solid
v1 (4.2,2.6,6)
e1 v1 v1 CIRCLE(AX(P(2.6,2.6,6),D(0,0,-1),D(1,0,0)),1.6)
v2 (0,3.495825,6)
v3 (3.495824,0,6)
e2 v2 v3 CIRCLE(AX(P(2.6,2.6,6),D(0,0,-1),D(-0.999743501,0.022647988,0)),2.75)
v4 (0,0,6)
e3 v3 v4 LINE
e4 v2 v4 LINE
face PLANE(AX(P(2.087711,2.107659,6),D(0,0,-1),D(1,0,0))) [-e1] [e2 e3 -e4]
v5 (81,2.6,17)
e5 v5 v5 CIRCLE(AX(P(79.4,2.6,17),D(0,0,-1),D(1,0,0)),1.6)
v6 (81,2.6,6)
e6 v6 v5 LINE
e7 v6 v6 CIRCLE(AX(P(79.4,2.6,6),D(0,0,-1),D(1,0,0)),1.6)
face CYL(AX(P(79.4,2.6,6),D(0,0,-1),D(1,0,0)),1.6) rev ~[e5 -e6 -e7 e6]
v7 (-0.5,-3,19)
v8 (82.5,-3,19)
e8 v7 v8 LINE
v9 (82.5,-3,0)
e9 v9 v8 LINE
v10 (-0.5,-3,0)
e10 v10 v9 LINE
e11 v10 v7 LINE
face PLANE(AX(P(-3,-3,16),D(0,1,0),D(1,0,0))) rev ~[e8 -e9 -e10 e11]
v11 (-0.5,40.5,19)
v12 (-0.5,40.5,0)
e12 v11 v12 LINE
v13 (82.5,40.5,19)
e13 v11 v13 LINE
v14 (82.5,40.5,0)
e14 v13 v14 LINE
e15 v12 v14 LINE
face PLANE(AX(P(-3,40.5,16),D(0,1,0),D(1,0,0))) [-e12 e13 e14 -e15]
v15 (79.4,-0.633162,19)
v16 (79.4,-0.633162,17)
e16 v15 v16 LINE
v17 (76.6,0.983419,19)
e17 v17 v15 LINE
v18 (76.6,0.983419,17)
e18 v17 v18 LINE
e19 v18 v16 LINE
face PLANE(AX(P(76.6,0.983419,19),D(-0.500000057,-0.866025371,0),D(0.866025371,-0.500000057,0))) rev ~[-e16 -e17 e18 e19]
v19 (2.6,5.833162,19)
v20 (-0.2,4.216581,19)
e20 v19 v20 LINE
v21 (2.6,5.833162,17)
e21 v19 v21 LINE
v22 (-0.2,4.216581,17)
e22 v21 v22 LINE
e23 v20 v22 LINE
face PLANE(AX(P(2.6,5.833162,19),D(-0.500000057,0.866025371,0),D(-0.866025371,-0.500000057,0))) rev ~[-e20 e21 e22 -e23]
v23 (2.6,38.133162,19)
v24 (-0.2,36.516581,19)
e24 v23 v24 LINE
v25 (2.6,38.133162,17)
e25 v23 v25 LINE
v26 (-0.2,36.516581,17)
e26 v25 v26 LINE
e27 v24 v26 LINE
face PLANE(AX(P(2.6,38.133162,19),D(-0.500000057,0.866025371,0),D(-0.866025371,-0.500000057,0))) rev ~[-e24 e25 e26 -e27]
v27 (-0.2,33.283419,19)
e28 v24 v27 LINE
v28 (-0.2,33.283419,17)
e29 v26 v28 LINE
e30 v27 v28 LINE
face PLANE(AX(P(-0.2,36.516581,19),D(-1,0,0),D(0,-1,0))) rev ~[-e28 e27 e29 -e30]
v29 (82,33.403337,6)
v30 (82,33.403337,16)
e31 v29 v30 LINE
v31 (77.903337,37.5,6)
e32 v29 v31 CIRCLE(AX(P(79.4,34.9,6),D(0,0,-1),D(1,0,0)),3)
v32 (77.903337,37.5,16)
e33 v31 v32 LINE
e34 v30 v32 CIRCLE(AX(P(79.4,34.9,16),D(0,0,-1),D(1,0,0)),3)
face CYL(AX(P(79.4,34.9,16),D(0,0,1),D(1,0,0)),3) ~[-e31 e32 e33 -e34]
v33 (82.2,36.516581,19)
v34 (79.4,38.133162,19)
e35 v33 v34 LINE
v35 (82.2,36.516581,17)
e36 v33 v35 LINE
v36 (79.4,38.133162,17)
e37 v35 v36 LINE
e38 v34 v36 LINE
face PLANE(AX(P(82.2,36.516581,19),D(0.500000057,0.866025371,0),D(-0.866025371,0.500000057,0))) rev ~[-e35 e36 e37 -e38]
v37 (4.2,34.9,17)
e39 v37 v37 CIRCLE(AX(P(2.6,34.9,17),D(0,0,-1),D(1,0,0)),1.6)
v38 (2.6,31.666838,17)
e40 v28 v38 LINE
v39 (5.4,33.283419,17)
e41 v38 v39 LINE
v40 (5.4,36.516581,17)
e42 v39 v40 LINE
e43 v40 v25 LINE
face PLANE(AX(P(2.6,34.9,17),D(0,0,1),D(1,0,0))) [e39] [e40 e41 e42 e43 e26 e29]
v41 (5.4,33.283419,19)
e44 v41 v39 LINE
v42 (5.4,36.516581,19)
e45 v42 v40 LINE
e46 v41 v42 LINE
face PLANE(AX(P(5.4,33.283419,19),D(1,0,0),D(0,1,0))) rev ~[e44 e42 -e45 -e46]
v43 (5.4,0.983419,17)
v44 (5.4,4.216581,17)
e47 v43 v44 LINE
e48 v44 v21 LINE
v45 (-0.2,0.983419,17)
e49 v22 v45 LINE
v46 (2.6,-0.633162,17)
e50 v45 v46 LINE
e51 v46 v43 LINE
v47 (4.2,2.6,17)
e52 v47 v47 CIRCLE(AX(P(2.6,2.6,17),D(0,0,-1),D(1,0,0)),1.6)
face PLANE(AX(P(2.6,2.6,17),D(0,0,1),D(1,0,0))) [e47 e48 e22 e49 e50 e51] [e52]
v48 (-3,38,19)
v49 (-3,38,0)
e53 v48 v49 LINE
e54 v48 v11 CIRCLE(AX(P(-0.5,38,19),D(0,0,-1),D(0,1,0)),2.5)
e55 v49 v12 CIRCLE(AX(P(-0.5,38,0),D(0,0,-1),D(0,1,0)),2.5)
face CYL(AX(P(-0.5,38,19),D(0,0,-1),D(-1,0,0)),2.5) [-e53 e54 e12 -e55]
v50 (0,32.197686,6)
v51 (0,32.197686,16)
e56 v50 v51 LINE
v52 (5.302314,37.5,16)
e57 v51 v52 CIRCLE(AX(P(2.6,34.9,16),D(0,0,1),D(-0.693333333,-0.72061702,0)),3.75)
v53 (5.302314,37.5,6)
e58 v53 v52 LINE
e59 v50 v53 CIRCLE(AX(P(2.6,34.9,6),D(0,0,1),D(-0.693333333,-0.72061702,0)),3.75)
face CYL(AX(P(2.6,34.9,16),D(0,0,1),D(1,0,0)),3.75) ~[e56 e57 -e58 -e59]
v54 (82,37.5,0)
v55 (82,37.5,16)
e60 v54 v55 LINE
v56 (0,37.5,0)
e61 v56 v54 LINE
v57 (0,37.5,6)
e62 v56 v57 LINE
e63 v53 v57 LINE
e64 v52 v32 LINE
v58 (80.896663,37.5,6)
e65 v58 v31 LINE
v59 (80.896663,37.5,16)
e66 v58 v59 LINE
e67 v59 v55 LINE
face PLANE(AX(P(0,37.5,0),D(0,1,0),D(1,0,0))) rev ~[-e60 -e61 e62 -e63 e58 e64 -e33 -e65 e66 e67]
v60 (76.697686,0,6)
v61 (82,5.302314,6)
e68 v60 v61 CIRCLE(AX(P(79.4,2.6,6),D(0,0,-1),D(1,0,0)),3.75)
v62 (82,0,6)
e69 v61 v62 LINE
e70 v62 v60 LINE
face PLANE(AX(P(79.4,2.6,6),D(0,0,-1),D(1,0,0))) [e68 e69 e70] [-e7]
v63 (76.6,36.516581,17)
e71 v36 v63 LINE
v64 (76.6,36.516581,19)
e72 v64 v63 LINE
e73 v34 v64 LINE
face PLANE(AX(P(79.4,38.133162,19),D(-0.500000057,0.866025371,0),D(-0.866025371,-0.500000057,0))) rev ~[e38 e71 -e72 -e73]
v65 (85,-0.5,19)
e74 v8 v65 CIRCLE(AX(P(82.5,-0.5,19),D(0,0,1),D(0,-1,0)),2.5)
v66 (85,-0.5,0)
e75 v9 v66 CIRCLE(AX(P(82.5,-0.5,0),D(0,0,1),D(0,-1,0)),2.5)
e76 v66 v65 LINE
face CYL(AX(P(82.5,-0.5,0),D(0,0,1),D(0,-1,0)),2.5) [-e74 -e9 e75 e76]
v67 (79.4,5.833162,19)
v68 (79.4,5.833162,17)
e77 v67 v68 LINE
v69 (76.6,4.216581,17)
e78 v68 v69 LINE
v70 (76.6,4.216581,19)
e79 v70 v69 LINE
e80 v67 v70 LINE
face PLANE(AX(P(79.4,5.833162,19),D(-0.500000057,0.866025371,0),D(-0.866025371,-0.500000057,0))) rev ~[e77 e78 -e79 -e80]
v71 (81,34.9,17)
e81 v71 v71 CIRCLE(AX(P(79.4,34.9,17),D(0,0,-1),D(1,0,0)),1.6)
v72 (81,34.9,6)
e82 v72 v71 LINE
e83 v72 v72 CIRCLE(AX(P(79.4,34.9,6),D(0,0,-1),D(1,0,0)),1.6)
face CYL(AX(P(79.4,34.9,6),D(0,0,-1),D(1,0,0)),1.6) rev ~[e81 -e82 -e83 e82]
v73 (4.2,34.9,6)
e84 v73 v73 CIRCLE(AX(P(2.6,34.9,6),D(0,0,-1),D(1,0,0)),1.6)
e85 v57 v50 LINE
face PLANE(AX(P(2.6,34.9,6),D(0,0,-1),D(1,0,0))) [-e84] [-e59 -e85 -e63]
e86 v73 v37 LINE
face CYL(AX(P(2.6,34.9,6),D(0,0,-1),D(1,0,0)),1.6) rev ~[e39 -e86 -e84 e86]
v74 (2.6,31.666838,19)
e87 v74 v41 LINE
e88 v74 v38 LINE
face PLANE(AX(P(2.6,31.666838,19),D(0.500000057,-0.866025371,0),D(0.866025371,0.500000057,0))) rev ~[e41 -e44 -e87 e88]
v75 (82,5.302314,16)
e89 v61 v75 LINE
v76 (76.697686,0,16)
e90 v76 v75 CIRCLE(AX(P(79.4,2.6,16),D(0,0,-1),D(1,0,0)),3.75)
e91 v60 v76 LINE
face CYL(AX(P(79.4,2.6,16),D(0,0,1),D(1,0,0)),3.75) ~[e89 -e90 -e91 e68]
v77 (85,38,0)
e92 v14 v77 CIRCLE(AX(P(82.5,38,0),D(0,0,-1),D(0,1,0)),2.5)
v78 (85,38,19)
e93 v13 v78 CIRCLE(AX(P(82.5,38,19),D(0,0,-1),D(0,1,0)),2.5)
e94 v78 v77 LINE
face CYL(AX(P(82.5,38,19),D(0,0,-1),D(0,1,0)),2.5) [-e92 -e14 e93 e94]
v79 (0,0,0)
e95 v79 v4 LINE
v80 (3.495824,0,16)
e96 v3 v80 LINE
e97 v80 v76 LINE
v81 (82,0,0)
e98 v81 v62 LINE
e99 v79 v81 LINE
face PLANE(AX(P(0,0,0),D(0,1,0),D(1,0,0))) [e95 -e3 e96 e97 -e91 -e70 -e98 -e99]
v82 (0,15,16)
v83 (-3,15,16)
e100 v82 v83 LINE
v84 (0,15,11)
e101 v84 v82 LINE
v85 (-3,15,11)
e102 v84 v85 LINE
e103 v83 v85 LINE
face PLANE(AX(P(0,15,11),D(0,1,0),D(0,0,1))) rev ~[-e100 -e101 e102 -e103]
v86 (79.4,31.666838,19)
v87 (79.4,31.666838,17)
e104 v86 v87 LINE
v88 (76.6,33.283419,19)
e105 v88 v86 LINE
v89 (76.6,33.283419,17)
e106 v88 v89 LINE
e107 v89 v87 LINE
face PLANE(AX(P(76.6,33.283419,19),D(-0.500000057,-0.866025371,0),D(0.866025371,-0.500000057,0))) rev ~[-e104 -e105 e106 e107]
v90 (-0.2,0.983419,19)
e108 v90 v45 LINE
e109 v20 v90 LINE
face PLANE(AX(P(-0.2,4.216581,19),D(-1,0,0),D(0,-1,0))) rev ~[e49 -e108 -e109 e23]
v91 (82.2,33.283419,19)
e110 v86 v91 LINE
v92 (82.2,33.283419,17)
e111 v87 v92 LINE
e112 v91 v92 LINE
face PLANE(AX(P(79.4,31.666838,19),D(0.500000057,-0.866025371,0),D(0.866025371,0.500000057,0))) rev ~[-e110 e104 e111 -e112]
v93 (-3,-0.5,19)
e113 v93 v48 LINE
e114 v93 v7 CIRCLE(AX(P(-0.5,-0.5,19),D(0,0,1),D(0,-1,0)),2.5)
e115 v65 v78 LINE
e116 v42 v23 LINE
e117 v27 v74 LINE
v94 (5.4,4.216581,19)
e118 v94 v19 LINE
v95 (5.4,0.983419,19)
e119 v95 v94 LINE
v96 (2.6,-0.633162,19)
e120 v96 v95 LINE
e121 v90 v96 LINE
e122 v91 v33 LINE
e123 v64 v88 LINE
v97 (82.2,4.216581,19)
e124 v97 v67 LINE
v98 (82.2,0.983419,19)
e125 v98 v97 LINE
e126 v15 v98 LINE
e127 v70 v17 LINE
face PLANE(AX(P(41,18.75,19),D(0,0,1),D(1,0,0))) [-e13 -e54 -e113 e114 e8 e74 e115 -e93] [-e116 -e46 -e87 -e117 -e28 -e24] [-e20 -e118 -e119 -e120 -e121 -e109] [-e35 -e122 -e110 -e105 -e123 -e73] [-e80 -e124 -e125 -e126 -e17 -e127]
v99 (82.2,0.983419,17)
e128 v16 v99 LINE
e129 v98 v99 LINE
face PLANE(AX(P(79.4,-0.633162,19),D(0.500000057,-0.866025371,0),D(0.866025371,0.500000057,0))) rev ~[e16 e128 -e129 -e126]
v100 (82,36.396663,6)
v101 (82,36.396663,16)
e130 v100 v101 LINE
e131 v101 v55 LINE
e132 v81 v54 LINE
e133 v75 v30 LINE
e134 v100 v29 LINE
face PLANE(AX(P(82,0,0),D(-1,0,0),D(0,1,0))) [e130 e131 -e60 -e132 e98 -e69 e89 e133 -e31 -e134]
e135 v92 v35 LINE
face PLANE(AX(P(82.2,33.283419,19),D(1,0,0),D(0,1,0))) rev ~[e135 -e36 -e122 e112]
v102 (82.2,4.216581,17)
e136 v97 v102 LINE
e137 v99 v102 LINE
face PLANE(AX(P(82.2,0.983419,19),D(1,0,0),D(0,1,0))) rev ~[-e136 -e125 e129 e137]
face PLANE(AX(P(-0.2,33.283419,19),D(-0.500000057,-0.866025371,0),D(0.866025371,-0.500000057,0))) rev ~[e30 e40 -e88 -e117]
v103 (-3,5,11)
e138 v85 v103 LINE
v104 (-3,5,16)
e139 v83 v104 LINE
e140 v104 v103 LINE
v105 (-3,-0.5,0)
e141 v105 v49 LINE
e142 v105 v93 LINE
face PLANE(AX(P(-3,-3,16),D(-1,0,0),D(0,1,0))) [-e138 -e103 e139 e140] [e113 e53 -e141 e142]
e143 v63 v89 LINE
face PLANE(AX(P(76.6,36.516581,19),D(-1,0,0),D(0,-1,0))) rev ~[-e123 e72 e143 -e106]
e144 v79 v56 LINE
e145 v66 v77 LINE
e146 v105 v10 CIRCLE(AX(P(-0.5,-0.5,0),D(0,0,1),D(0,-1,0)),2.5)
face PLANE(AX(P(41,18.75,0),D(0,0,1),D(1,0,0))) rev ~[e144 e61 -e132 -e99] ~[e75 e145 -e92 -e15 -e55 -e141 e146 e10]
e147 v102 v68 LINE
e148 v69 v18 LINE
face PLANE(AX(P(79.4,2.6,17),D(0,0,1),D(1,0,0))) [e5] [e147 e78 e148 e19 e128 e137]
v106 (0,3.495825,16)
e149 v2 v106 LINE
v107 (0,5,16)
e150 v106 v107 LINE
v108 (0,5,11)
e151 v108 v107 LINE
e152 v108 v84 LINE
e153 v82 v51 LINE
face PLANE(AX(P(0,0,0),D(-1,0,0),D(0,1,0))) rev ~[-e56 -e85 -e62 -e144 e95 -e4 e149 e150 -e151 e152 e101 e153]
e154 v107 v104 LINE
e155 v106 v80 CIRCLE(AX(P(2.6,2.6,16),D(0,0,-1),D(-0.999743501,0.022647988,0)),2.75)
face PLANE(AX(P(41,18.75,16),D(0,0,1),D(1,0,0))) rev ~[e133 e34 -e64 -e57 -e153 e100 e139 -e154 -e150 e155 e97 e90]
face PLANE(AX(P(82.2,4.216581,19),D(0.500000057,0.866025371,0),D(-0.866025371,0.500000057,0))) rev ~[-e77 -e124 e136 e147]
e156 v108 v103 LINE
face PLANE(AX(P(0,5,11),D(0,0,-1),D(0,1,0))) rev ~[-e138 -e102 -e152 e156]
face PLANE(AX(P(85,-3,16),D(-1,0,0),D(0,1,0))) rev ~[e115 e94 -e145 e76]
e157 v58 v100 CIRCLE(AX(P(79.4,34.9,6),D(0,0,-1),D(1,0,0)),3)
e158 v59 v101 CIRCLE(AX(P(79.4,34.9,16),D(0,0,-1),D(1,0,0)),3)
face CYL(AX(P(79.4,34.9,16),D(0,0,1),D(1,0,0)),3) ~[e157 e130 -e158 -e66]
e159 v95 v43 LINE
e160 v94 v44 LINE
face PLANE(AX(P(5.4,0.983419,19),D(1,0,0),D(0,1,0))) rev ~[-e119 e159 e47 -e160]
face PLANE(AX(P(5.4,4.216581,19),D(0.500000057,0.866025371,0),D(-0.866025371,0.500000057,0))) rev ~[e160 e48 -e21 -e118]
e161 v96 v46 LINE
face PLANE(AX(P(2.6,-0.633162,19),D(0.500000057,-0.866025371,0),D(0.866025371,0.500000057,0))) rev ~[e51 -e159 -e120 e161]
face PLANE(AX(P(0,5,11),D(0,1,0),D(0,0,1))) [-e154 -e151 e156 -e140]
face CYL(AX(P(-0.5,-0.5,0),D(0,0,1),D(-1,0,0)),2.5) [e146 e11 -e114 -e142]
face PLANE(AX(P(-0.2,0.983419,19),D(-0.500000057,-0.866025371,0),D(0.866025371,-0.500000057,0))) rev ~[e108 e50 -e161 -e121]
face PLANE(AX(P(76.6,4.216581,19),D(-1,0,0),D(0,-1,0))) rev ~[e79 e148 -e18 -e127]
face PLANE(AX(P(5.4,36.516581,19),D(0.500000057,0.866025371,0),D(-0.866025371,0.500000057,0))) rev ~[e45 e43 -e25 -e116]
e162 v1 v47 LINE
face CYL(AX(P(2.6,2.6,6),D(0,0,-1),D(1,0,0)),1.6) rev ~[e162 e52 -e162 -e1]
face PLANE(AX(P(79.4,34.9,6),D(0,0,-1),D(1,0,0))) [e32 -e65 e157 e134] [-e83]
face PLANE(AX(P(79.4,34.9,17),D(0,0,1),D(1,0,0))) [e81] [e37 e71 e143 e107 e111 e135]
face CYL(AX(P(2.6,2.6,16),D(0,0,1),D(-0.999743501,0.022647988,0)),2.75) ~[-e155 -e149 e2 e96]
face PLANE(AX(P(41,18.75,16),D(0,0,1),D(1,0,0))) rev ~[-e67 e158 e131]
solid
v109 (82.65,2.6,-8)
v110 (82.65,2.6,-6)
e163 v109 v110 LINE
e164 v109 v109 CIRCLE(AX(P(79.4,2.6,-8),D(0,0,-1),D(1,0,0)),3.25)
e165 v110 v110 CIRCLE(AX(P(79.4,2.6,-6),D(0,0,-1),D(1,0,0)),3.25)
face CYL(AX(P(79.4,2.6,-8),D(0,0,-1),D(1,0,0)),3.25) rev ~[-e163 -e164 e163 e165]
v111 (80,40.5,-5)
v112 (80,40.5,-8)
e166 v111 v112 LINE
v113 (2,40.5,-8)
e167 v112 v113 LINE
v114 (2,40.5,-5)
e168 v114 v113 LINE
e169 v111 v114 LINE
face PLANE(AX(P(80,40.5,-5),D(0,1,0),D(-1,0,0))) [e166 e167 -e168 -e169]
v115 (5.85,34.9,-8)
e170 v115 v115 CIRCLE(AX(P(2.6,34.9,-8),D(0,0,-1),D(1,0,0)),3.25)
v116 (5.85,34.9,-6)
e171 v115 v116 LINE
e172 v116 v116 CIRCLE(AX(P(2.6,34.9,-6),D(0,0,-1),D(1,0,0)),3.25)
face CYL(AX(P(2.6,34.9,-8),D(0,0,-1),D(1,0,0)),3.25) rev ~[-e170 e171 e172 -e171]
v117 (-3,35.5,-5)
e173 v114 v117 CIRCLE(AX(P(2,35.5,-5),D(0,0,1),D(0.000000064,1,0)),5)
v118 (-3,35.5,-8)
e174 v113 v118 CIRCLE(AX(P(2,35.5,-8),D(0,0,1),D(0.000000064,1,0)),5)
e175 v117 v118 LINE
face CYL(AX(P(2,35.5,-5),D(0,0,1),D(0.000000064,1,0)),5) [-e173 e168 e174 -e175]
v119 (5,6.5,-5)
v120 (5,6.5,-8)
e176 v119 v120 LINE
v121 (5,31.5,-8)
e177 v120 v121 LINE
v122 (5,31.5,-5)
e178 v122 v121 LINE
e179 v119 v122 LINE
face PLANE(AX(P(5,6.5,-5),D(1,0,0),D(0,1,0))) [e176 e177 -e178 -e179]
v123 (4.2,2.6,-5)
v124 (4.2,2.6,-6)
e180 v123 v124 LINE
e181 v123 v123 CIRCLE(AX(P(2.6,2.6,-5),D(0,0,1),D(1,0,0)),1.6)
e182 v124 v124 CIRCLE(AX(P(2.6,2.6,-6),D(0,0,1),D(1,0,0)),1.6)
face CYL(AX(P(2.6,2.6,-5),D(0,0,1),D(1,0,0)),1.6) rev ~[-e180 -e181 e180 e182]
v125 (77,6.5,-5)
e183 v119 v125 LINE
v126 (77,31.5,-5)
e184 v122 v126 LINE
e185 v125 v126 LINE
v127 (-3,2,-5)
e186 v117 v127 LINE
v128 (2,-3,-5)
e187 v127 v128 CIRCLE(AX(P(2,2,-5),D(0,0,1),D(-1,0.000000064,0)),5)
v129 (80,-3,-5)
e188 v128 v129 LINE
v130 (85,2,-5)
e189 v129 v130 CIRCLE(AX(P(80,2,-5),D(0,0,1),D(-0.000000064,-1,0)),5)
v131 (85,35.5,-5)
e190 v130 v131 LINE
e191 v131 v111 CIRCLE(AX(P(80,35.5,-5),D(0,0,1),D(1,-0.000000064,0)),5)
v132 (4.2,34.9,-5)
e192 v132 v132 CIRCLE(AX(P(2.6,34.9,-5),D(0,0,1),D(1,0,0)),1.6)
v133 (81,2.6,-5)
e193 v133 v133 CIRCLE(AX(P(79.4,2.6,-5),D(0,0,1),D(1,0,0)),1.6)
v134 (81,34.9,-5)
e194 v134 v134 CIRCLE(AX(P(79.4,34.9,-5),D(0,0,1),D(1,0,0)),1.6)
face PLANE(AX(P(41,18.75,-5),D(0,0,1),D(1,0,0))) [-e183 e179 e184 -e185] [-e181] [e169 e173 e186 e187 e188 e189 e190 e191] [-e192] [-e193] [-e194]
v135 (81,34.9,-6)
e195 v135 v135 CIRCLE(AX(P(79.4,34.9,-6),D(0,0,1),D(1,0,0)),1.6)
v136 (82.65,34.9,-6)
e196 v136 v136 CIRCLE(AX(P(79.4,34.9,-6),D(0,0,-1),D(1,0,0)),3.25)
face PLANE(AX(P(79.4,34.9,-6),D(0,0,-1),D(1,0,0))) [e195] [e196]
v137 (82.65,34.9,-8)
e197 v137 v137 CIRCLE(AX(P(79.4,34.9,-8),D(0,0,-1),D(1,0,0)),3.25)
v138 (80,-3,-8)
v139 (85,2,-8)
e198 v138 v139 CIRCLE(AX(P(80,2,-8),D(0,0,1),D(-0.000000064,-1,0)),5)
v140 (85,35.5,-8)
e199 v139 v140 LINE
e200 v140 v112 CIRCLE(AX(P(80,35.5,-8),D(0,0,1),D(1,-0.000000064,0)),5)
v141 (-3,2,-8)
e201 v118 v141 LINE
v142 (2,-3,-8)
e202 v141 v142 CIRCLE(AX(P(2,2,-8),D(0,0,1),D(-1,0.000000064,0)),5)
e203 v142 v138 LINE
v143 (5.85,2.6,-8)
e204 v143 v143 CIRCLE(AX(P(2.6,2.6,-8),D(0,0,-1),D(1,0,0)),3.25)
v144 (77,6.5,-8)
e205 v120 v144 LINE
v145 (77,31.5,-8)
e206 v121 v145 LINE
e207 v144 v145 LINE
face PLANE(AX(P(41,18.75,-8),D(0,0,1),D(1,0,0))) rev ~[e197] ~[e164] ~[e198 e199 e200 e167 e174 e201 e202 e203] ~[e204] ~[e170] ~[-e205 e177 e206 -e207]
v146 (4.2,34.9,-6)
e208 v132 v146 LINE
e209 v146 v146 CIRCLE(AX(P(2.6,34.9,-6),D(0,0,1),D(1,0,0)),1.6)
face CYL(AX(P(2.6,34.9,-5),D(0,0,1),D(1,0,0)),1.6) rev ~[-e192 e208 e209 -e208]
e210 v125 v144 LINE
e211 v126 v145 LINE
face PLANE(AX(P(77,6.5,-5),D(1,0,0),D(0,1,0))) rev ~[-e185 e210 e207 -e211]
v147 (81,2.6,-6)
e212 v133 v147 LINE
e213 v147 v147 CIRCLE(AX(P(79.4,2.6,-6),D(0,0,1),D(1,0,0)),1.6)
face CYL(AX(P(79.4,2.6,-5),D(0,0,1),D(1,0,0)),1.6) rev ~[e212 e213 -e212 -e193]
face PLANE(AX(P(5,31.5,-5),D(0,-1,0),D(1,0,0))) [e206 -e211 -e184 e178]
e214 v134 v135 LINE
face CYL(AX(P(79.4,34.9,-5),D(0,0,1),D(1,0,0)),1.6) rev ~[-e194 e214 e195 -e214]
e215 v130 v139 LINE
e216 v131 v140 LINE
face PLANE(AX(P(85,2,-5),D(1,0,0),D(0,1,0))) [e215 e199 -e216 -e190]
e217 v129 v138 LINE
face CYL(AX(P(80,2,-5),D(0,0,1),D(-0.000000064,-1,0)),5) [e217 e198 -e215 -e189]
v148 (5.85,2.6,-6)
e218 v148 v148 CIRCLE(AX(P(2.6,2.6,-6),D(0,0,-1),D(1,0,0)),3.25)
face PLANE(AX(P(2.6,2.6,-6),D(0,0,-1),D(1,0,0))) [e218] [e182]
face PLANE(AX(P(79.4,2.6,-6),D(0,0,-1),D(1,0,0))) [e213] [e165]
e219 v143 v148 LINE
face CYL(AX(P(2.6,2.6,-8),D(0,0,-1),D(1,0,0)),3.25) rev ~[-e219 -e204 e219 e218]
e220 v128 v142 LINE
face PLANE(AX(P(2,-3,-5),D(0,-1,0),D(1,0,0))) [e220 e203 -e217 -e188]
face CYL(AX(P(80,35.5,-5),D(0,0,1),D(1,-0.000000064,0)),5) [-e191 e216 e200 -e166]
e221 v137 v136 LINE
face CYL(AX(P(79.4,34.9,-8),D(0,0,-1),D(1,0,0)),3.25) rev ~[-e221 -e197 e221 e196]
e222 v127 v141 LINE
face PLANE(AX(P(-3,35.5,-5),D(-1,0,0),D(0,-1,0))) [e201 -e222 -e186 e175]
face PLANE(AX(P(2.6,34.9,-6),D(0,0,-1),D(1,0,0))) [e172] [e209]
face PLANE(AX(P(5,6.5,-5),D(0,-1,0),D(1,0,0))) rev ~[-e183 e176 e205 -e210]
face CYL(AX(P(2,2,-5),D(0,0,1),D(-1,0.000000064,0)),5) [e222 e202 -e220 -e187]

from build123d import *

# Parameters (mm, degrees)
F0_W      = 88
F0_H      = 43.5
F0_W_2    = 82
F0_H_2    = 37.5
F1_DEPTH  = 16
F2_W      = 88
F2_H      = 43.5
F3_DEPTH  = 3
F4_R      = 1.6
F4_R_2    = 3.75
F4_R_3    = 3
F5_DEPTH  = 10
F6_W      = 10
F6_H      = 5
F7_DEPTH  = 25
F8_R      = 1.6
F9_DEPTH  = 25
F11_DEPTH = 2
F12_R     = 2.5
F14_R     = 1.6
F14_W     = 72
F14_H     = 25
F15_DEPTH = 3
F16_R     = 3.25
F17_DEPTH = 2


with BuildPart() as f1:
    # F0 (on Top) → F1 (new body)
    with BuildSketch(Plane.XY):
        with Locations((41, 18.75)):
            Rectangle(F0_W, F0_H)
        with Locations((41, 18.75)):
            Rectangle(F0_W_2, F0_H_2, mode=Mode.SUBTRACT)
    extrude(amount=F1_DEPTH)

    # F2 (on face) → F3 (join)
    with BuildSketch(Plane.XY.offset(16)):
        with Locations((41, 18.75)):
            Rectangle(F2_W, F2_H)
    extrude(amount=F3_DEPTH)

    # F4 (on face) → F5 (join)
    with BuildSketch(Plane(origin=(0, 0, 16), x_dir=(1, 0, 0), z_dir=(0, 0, -1))):
        with BuildLine():
            Line((-0.674958, 0.433956), (-0.149295, -2.662282))
            ThreePointArc((-0.149295, -2.662282), (4.492342, -4.59538), (2.807823, 0.142136))
            Line((2.807823, 0.142136), (-0.674958, 0.433956))
        make_face()
        with Locations((2.6, -2.6)):
            Circle(F4_R, mode=Mode.SUBTRACT)
        with Locations((79.4, -2.6)):
            Circle(F4_R_2)
        with Locations((79.4, -2.6)):
            Circle(F4_R, mode=Mode.SUBTRACT)
        with Locations((79.4, -34.9)):
            Circle(F4_R_3)
        with Locations((79.4, -34.9)):
            Circle(F4_R, mode=Mode.SUBTRACT)
        with Locations((2.6, -34.9)):
            Circle(F4_R_2)
        with Locations((2.6, -34.9)):
            Circle(F4_R, mode=Mode.SUBTRACT)
    extrude(amount=F5_DEPTH)

    # F6 (on face) → F7 (cut)
    with BuildSketch(Plane.YZ):
        with Locations((10, 13.5)):
            Rectangle(F6_W, F6_H)
    extrude(amount=-F7_DEPTH, mode=Mode.SUBTRACT)

    # F8 (on face) → F9 (cut)
    with BuildSketch(Plane(origin=(0, 0, 6), x_dir=(1, 0, 0), z_dir=(0, 0, -1))):
        with Locations((2.6, -2.6)):
            Circle(F8_R)
        with Locations((2.6, -34.9)):
            Circle(F8_R)
        with Locations((79.4, -34.9)):
            Circle(F8_R)
        with Locations((79.4, -2.6)):
            Circle(F8_R)
    extrude(amount=-F9_DEPTH, mode=Mode.SUBTRACT)

    # F10 (on face) → F11 (cut)
    with BuildSketch(Plane.XY.offset(19)):
        Polygon((-0.2, 4.216581), (-0.2, 0.983419), (2.6, -0.633162), (5.4, 0.983419), (5.4, 4.216581), (2.6, 5.833162), align=None)
        Polygon((-0.2, 36.516581), (-0.2, 33.283419), (2.6, 31.666838), (5.4, 33.283419), (5.4, 36.516581), (2.6, 38.133162), align=None)
        Polygon((82.2, 0.983419), (82.2, 4.216581), (79.4, 5.833162), (76.6, 4.216581), (76.6, 0.983419), (79.4, -0.633162), align=None)
        Polygon((82.2, 33.283419), (82.2, 36.516581), (79.4, 38.133162), (76.6, 36.516581), (76.6, 33.283419), (79.4, 31.666838), align=None)
    extrude(amount=-F11_DEPTH, mode=Mode.SUBTRACT)

    # F12
    f12_edges = [f1.edges().sort_by_distance(p)[0] for p in [
        (-3, -3, 9.5),
        (85, -3, 9.5),
        (85, 40.5, 9.5),
        (-3, 40.5, 9.5),
    ]]
    fillet(f12_edges, radius=F12_R)


with BuildPart() as f15:
    # F14 (on offset) → F15 (new body)
    with BuildSketch(Plane.XY.offset(-5)):
        with BuildLine():
            Line((-3, 35.5), (-3, 2))
            ThreePointArc((-3, 2), (-1.535534, -1.535534), (2, -3))
            Line((2, -3), (80, -3))
            ThreePointArc((80, -3), (83.535534, -1.535534), (85, 2))
            Line((85, 2), (85, 35.5))
            ThreePointArc((85, 35.5), (83.535534, 39.035534), (80, 40.5))
            Line((80, 40.5), (2, 40.5))
            ThreePointArc((2, 40.5), (-1.535534, 39.035534), (-3, 35.5))
        make_face()
        with Locations((2.6, 2.6)):
            Circle(F14_R, mode=Mode.SUBTRACT)
        with Locations((79.4, 2.6)):
            Circle(F14_R, mode=Mode.SUBTRACT)
        with Locations((2.6, 34.9)):
            Circle(F14_R, mode=Mode.SUBTRACT)
        with Locations((41, 19)):
            Rectangle(F14_W, F14_H, mode=Mode.SUBTRACT)
        with Locations((79.4, 34.9)):
            Circle(F14_R, mode=Mode.SUBTRACT)
    extrude(amount=-F15_DEPTH)

    # F16 (on face) → F17 (cut)
    with BuildSketch(Plane(origin=(0, 0, -8), x_dir=(1, 0, 0), z_dir=(0, 0, -1))):
        with Locations((2.6, -2.6)):
            Circle(F16_R)
        with Locations((79.4, -2.6)):
            Circle(F16_R)
        with Locations((79.4, -34.9)):
            Circle(F16_R)
        with Locations((2.6, -34.9)):
            Circle(F16_R)
    extrude(amount=-F17_DEPTH, mode=Mode.SUBTRACT)


solid = Compound([f1.part, f15.part])
